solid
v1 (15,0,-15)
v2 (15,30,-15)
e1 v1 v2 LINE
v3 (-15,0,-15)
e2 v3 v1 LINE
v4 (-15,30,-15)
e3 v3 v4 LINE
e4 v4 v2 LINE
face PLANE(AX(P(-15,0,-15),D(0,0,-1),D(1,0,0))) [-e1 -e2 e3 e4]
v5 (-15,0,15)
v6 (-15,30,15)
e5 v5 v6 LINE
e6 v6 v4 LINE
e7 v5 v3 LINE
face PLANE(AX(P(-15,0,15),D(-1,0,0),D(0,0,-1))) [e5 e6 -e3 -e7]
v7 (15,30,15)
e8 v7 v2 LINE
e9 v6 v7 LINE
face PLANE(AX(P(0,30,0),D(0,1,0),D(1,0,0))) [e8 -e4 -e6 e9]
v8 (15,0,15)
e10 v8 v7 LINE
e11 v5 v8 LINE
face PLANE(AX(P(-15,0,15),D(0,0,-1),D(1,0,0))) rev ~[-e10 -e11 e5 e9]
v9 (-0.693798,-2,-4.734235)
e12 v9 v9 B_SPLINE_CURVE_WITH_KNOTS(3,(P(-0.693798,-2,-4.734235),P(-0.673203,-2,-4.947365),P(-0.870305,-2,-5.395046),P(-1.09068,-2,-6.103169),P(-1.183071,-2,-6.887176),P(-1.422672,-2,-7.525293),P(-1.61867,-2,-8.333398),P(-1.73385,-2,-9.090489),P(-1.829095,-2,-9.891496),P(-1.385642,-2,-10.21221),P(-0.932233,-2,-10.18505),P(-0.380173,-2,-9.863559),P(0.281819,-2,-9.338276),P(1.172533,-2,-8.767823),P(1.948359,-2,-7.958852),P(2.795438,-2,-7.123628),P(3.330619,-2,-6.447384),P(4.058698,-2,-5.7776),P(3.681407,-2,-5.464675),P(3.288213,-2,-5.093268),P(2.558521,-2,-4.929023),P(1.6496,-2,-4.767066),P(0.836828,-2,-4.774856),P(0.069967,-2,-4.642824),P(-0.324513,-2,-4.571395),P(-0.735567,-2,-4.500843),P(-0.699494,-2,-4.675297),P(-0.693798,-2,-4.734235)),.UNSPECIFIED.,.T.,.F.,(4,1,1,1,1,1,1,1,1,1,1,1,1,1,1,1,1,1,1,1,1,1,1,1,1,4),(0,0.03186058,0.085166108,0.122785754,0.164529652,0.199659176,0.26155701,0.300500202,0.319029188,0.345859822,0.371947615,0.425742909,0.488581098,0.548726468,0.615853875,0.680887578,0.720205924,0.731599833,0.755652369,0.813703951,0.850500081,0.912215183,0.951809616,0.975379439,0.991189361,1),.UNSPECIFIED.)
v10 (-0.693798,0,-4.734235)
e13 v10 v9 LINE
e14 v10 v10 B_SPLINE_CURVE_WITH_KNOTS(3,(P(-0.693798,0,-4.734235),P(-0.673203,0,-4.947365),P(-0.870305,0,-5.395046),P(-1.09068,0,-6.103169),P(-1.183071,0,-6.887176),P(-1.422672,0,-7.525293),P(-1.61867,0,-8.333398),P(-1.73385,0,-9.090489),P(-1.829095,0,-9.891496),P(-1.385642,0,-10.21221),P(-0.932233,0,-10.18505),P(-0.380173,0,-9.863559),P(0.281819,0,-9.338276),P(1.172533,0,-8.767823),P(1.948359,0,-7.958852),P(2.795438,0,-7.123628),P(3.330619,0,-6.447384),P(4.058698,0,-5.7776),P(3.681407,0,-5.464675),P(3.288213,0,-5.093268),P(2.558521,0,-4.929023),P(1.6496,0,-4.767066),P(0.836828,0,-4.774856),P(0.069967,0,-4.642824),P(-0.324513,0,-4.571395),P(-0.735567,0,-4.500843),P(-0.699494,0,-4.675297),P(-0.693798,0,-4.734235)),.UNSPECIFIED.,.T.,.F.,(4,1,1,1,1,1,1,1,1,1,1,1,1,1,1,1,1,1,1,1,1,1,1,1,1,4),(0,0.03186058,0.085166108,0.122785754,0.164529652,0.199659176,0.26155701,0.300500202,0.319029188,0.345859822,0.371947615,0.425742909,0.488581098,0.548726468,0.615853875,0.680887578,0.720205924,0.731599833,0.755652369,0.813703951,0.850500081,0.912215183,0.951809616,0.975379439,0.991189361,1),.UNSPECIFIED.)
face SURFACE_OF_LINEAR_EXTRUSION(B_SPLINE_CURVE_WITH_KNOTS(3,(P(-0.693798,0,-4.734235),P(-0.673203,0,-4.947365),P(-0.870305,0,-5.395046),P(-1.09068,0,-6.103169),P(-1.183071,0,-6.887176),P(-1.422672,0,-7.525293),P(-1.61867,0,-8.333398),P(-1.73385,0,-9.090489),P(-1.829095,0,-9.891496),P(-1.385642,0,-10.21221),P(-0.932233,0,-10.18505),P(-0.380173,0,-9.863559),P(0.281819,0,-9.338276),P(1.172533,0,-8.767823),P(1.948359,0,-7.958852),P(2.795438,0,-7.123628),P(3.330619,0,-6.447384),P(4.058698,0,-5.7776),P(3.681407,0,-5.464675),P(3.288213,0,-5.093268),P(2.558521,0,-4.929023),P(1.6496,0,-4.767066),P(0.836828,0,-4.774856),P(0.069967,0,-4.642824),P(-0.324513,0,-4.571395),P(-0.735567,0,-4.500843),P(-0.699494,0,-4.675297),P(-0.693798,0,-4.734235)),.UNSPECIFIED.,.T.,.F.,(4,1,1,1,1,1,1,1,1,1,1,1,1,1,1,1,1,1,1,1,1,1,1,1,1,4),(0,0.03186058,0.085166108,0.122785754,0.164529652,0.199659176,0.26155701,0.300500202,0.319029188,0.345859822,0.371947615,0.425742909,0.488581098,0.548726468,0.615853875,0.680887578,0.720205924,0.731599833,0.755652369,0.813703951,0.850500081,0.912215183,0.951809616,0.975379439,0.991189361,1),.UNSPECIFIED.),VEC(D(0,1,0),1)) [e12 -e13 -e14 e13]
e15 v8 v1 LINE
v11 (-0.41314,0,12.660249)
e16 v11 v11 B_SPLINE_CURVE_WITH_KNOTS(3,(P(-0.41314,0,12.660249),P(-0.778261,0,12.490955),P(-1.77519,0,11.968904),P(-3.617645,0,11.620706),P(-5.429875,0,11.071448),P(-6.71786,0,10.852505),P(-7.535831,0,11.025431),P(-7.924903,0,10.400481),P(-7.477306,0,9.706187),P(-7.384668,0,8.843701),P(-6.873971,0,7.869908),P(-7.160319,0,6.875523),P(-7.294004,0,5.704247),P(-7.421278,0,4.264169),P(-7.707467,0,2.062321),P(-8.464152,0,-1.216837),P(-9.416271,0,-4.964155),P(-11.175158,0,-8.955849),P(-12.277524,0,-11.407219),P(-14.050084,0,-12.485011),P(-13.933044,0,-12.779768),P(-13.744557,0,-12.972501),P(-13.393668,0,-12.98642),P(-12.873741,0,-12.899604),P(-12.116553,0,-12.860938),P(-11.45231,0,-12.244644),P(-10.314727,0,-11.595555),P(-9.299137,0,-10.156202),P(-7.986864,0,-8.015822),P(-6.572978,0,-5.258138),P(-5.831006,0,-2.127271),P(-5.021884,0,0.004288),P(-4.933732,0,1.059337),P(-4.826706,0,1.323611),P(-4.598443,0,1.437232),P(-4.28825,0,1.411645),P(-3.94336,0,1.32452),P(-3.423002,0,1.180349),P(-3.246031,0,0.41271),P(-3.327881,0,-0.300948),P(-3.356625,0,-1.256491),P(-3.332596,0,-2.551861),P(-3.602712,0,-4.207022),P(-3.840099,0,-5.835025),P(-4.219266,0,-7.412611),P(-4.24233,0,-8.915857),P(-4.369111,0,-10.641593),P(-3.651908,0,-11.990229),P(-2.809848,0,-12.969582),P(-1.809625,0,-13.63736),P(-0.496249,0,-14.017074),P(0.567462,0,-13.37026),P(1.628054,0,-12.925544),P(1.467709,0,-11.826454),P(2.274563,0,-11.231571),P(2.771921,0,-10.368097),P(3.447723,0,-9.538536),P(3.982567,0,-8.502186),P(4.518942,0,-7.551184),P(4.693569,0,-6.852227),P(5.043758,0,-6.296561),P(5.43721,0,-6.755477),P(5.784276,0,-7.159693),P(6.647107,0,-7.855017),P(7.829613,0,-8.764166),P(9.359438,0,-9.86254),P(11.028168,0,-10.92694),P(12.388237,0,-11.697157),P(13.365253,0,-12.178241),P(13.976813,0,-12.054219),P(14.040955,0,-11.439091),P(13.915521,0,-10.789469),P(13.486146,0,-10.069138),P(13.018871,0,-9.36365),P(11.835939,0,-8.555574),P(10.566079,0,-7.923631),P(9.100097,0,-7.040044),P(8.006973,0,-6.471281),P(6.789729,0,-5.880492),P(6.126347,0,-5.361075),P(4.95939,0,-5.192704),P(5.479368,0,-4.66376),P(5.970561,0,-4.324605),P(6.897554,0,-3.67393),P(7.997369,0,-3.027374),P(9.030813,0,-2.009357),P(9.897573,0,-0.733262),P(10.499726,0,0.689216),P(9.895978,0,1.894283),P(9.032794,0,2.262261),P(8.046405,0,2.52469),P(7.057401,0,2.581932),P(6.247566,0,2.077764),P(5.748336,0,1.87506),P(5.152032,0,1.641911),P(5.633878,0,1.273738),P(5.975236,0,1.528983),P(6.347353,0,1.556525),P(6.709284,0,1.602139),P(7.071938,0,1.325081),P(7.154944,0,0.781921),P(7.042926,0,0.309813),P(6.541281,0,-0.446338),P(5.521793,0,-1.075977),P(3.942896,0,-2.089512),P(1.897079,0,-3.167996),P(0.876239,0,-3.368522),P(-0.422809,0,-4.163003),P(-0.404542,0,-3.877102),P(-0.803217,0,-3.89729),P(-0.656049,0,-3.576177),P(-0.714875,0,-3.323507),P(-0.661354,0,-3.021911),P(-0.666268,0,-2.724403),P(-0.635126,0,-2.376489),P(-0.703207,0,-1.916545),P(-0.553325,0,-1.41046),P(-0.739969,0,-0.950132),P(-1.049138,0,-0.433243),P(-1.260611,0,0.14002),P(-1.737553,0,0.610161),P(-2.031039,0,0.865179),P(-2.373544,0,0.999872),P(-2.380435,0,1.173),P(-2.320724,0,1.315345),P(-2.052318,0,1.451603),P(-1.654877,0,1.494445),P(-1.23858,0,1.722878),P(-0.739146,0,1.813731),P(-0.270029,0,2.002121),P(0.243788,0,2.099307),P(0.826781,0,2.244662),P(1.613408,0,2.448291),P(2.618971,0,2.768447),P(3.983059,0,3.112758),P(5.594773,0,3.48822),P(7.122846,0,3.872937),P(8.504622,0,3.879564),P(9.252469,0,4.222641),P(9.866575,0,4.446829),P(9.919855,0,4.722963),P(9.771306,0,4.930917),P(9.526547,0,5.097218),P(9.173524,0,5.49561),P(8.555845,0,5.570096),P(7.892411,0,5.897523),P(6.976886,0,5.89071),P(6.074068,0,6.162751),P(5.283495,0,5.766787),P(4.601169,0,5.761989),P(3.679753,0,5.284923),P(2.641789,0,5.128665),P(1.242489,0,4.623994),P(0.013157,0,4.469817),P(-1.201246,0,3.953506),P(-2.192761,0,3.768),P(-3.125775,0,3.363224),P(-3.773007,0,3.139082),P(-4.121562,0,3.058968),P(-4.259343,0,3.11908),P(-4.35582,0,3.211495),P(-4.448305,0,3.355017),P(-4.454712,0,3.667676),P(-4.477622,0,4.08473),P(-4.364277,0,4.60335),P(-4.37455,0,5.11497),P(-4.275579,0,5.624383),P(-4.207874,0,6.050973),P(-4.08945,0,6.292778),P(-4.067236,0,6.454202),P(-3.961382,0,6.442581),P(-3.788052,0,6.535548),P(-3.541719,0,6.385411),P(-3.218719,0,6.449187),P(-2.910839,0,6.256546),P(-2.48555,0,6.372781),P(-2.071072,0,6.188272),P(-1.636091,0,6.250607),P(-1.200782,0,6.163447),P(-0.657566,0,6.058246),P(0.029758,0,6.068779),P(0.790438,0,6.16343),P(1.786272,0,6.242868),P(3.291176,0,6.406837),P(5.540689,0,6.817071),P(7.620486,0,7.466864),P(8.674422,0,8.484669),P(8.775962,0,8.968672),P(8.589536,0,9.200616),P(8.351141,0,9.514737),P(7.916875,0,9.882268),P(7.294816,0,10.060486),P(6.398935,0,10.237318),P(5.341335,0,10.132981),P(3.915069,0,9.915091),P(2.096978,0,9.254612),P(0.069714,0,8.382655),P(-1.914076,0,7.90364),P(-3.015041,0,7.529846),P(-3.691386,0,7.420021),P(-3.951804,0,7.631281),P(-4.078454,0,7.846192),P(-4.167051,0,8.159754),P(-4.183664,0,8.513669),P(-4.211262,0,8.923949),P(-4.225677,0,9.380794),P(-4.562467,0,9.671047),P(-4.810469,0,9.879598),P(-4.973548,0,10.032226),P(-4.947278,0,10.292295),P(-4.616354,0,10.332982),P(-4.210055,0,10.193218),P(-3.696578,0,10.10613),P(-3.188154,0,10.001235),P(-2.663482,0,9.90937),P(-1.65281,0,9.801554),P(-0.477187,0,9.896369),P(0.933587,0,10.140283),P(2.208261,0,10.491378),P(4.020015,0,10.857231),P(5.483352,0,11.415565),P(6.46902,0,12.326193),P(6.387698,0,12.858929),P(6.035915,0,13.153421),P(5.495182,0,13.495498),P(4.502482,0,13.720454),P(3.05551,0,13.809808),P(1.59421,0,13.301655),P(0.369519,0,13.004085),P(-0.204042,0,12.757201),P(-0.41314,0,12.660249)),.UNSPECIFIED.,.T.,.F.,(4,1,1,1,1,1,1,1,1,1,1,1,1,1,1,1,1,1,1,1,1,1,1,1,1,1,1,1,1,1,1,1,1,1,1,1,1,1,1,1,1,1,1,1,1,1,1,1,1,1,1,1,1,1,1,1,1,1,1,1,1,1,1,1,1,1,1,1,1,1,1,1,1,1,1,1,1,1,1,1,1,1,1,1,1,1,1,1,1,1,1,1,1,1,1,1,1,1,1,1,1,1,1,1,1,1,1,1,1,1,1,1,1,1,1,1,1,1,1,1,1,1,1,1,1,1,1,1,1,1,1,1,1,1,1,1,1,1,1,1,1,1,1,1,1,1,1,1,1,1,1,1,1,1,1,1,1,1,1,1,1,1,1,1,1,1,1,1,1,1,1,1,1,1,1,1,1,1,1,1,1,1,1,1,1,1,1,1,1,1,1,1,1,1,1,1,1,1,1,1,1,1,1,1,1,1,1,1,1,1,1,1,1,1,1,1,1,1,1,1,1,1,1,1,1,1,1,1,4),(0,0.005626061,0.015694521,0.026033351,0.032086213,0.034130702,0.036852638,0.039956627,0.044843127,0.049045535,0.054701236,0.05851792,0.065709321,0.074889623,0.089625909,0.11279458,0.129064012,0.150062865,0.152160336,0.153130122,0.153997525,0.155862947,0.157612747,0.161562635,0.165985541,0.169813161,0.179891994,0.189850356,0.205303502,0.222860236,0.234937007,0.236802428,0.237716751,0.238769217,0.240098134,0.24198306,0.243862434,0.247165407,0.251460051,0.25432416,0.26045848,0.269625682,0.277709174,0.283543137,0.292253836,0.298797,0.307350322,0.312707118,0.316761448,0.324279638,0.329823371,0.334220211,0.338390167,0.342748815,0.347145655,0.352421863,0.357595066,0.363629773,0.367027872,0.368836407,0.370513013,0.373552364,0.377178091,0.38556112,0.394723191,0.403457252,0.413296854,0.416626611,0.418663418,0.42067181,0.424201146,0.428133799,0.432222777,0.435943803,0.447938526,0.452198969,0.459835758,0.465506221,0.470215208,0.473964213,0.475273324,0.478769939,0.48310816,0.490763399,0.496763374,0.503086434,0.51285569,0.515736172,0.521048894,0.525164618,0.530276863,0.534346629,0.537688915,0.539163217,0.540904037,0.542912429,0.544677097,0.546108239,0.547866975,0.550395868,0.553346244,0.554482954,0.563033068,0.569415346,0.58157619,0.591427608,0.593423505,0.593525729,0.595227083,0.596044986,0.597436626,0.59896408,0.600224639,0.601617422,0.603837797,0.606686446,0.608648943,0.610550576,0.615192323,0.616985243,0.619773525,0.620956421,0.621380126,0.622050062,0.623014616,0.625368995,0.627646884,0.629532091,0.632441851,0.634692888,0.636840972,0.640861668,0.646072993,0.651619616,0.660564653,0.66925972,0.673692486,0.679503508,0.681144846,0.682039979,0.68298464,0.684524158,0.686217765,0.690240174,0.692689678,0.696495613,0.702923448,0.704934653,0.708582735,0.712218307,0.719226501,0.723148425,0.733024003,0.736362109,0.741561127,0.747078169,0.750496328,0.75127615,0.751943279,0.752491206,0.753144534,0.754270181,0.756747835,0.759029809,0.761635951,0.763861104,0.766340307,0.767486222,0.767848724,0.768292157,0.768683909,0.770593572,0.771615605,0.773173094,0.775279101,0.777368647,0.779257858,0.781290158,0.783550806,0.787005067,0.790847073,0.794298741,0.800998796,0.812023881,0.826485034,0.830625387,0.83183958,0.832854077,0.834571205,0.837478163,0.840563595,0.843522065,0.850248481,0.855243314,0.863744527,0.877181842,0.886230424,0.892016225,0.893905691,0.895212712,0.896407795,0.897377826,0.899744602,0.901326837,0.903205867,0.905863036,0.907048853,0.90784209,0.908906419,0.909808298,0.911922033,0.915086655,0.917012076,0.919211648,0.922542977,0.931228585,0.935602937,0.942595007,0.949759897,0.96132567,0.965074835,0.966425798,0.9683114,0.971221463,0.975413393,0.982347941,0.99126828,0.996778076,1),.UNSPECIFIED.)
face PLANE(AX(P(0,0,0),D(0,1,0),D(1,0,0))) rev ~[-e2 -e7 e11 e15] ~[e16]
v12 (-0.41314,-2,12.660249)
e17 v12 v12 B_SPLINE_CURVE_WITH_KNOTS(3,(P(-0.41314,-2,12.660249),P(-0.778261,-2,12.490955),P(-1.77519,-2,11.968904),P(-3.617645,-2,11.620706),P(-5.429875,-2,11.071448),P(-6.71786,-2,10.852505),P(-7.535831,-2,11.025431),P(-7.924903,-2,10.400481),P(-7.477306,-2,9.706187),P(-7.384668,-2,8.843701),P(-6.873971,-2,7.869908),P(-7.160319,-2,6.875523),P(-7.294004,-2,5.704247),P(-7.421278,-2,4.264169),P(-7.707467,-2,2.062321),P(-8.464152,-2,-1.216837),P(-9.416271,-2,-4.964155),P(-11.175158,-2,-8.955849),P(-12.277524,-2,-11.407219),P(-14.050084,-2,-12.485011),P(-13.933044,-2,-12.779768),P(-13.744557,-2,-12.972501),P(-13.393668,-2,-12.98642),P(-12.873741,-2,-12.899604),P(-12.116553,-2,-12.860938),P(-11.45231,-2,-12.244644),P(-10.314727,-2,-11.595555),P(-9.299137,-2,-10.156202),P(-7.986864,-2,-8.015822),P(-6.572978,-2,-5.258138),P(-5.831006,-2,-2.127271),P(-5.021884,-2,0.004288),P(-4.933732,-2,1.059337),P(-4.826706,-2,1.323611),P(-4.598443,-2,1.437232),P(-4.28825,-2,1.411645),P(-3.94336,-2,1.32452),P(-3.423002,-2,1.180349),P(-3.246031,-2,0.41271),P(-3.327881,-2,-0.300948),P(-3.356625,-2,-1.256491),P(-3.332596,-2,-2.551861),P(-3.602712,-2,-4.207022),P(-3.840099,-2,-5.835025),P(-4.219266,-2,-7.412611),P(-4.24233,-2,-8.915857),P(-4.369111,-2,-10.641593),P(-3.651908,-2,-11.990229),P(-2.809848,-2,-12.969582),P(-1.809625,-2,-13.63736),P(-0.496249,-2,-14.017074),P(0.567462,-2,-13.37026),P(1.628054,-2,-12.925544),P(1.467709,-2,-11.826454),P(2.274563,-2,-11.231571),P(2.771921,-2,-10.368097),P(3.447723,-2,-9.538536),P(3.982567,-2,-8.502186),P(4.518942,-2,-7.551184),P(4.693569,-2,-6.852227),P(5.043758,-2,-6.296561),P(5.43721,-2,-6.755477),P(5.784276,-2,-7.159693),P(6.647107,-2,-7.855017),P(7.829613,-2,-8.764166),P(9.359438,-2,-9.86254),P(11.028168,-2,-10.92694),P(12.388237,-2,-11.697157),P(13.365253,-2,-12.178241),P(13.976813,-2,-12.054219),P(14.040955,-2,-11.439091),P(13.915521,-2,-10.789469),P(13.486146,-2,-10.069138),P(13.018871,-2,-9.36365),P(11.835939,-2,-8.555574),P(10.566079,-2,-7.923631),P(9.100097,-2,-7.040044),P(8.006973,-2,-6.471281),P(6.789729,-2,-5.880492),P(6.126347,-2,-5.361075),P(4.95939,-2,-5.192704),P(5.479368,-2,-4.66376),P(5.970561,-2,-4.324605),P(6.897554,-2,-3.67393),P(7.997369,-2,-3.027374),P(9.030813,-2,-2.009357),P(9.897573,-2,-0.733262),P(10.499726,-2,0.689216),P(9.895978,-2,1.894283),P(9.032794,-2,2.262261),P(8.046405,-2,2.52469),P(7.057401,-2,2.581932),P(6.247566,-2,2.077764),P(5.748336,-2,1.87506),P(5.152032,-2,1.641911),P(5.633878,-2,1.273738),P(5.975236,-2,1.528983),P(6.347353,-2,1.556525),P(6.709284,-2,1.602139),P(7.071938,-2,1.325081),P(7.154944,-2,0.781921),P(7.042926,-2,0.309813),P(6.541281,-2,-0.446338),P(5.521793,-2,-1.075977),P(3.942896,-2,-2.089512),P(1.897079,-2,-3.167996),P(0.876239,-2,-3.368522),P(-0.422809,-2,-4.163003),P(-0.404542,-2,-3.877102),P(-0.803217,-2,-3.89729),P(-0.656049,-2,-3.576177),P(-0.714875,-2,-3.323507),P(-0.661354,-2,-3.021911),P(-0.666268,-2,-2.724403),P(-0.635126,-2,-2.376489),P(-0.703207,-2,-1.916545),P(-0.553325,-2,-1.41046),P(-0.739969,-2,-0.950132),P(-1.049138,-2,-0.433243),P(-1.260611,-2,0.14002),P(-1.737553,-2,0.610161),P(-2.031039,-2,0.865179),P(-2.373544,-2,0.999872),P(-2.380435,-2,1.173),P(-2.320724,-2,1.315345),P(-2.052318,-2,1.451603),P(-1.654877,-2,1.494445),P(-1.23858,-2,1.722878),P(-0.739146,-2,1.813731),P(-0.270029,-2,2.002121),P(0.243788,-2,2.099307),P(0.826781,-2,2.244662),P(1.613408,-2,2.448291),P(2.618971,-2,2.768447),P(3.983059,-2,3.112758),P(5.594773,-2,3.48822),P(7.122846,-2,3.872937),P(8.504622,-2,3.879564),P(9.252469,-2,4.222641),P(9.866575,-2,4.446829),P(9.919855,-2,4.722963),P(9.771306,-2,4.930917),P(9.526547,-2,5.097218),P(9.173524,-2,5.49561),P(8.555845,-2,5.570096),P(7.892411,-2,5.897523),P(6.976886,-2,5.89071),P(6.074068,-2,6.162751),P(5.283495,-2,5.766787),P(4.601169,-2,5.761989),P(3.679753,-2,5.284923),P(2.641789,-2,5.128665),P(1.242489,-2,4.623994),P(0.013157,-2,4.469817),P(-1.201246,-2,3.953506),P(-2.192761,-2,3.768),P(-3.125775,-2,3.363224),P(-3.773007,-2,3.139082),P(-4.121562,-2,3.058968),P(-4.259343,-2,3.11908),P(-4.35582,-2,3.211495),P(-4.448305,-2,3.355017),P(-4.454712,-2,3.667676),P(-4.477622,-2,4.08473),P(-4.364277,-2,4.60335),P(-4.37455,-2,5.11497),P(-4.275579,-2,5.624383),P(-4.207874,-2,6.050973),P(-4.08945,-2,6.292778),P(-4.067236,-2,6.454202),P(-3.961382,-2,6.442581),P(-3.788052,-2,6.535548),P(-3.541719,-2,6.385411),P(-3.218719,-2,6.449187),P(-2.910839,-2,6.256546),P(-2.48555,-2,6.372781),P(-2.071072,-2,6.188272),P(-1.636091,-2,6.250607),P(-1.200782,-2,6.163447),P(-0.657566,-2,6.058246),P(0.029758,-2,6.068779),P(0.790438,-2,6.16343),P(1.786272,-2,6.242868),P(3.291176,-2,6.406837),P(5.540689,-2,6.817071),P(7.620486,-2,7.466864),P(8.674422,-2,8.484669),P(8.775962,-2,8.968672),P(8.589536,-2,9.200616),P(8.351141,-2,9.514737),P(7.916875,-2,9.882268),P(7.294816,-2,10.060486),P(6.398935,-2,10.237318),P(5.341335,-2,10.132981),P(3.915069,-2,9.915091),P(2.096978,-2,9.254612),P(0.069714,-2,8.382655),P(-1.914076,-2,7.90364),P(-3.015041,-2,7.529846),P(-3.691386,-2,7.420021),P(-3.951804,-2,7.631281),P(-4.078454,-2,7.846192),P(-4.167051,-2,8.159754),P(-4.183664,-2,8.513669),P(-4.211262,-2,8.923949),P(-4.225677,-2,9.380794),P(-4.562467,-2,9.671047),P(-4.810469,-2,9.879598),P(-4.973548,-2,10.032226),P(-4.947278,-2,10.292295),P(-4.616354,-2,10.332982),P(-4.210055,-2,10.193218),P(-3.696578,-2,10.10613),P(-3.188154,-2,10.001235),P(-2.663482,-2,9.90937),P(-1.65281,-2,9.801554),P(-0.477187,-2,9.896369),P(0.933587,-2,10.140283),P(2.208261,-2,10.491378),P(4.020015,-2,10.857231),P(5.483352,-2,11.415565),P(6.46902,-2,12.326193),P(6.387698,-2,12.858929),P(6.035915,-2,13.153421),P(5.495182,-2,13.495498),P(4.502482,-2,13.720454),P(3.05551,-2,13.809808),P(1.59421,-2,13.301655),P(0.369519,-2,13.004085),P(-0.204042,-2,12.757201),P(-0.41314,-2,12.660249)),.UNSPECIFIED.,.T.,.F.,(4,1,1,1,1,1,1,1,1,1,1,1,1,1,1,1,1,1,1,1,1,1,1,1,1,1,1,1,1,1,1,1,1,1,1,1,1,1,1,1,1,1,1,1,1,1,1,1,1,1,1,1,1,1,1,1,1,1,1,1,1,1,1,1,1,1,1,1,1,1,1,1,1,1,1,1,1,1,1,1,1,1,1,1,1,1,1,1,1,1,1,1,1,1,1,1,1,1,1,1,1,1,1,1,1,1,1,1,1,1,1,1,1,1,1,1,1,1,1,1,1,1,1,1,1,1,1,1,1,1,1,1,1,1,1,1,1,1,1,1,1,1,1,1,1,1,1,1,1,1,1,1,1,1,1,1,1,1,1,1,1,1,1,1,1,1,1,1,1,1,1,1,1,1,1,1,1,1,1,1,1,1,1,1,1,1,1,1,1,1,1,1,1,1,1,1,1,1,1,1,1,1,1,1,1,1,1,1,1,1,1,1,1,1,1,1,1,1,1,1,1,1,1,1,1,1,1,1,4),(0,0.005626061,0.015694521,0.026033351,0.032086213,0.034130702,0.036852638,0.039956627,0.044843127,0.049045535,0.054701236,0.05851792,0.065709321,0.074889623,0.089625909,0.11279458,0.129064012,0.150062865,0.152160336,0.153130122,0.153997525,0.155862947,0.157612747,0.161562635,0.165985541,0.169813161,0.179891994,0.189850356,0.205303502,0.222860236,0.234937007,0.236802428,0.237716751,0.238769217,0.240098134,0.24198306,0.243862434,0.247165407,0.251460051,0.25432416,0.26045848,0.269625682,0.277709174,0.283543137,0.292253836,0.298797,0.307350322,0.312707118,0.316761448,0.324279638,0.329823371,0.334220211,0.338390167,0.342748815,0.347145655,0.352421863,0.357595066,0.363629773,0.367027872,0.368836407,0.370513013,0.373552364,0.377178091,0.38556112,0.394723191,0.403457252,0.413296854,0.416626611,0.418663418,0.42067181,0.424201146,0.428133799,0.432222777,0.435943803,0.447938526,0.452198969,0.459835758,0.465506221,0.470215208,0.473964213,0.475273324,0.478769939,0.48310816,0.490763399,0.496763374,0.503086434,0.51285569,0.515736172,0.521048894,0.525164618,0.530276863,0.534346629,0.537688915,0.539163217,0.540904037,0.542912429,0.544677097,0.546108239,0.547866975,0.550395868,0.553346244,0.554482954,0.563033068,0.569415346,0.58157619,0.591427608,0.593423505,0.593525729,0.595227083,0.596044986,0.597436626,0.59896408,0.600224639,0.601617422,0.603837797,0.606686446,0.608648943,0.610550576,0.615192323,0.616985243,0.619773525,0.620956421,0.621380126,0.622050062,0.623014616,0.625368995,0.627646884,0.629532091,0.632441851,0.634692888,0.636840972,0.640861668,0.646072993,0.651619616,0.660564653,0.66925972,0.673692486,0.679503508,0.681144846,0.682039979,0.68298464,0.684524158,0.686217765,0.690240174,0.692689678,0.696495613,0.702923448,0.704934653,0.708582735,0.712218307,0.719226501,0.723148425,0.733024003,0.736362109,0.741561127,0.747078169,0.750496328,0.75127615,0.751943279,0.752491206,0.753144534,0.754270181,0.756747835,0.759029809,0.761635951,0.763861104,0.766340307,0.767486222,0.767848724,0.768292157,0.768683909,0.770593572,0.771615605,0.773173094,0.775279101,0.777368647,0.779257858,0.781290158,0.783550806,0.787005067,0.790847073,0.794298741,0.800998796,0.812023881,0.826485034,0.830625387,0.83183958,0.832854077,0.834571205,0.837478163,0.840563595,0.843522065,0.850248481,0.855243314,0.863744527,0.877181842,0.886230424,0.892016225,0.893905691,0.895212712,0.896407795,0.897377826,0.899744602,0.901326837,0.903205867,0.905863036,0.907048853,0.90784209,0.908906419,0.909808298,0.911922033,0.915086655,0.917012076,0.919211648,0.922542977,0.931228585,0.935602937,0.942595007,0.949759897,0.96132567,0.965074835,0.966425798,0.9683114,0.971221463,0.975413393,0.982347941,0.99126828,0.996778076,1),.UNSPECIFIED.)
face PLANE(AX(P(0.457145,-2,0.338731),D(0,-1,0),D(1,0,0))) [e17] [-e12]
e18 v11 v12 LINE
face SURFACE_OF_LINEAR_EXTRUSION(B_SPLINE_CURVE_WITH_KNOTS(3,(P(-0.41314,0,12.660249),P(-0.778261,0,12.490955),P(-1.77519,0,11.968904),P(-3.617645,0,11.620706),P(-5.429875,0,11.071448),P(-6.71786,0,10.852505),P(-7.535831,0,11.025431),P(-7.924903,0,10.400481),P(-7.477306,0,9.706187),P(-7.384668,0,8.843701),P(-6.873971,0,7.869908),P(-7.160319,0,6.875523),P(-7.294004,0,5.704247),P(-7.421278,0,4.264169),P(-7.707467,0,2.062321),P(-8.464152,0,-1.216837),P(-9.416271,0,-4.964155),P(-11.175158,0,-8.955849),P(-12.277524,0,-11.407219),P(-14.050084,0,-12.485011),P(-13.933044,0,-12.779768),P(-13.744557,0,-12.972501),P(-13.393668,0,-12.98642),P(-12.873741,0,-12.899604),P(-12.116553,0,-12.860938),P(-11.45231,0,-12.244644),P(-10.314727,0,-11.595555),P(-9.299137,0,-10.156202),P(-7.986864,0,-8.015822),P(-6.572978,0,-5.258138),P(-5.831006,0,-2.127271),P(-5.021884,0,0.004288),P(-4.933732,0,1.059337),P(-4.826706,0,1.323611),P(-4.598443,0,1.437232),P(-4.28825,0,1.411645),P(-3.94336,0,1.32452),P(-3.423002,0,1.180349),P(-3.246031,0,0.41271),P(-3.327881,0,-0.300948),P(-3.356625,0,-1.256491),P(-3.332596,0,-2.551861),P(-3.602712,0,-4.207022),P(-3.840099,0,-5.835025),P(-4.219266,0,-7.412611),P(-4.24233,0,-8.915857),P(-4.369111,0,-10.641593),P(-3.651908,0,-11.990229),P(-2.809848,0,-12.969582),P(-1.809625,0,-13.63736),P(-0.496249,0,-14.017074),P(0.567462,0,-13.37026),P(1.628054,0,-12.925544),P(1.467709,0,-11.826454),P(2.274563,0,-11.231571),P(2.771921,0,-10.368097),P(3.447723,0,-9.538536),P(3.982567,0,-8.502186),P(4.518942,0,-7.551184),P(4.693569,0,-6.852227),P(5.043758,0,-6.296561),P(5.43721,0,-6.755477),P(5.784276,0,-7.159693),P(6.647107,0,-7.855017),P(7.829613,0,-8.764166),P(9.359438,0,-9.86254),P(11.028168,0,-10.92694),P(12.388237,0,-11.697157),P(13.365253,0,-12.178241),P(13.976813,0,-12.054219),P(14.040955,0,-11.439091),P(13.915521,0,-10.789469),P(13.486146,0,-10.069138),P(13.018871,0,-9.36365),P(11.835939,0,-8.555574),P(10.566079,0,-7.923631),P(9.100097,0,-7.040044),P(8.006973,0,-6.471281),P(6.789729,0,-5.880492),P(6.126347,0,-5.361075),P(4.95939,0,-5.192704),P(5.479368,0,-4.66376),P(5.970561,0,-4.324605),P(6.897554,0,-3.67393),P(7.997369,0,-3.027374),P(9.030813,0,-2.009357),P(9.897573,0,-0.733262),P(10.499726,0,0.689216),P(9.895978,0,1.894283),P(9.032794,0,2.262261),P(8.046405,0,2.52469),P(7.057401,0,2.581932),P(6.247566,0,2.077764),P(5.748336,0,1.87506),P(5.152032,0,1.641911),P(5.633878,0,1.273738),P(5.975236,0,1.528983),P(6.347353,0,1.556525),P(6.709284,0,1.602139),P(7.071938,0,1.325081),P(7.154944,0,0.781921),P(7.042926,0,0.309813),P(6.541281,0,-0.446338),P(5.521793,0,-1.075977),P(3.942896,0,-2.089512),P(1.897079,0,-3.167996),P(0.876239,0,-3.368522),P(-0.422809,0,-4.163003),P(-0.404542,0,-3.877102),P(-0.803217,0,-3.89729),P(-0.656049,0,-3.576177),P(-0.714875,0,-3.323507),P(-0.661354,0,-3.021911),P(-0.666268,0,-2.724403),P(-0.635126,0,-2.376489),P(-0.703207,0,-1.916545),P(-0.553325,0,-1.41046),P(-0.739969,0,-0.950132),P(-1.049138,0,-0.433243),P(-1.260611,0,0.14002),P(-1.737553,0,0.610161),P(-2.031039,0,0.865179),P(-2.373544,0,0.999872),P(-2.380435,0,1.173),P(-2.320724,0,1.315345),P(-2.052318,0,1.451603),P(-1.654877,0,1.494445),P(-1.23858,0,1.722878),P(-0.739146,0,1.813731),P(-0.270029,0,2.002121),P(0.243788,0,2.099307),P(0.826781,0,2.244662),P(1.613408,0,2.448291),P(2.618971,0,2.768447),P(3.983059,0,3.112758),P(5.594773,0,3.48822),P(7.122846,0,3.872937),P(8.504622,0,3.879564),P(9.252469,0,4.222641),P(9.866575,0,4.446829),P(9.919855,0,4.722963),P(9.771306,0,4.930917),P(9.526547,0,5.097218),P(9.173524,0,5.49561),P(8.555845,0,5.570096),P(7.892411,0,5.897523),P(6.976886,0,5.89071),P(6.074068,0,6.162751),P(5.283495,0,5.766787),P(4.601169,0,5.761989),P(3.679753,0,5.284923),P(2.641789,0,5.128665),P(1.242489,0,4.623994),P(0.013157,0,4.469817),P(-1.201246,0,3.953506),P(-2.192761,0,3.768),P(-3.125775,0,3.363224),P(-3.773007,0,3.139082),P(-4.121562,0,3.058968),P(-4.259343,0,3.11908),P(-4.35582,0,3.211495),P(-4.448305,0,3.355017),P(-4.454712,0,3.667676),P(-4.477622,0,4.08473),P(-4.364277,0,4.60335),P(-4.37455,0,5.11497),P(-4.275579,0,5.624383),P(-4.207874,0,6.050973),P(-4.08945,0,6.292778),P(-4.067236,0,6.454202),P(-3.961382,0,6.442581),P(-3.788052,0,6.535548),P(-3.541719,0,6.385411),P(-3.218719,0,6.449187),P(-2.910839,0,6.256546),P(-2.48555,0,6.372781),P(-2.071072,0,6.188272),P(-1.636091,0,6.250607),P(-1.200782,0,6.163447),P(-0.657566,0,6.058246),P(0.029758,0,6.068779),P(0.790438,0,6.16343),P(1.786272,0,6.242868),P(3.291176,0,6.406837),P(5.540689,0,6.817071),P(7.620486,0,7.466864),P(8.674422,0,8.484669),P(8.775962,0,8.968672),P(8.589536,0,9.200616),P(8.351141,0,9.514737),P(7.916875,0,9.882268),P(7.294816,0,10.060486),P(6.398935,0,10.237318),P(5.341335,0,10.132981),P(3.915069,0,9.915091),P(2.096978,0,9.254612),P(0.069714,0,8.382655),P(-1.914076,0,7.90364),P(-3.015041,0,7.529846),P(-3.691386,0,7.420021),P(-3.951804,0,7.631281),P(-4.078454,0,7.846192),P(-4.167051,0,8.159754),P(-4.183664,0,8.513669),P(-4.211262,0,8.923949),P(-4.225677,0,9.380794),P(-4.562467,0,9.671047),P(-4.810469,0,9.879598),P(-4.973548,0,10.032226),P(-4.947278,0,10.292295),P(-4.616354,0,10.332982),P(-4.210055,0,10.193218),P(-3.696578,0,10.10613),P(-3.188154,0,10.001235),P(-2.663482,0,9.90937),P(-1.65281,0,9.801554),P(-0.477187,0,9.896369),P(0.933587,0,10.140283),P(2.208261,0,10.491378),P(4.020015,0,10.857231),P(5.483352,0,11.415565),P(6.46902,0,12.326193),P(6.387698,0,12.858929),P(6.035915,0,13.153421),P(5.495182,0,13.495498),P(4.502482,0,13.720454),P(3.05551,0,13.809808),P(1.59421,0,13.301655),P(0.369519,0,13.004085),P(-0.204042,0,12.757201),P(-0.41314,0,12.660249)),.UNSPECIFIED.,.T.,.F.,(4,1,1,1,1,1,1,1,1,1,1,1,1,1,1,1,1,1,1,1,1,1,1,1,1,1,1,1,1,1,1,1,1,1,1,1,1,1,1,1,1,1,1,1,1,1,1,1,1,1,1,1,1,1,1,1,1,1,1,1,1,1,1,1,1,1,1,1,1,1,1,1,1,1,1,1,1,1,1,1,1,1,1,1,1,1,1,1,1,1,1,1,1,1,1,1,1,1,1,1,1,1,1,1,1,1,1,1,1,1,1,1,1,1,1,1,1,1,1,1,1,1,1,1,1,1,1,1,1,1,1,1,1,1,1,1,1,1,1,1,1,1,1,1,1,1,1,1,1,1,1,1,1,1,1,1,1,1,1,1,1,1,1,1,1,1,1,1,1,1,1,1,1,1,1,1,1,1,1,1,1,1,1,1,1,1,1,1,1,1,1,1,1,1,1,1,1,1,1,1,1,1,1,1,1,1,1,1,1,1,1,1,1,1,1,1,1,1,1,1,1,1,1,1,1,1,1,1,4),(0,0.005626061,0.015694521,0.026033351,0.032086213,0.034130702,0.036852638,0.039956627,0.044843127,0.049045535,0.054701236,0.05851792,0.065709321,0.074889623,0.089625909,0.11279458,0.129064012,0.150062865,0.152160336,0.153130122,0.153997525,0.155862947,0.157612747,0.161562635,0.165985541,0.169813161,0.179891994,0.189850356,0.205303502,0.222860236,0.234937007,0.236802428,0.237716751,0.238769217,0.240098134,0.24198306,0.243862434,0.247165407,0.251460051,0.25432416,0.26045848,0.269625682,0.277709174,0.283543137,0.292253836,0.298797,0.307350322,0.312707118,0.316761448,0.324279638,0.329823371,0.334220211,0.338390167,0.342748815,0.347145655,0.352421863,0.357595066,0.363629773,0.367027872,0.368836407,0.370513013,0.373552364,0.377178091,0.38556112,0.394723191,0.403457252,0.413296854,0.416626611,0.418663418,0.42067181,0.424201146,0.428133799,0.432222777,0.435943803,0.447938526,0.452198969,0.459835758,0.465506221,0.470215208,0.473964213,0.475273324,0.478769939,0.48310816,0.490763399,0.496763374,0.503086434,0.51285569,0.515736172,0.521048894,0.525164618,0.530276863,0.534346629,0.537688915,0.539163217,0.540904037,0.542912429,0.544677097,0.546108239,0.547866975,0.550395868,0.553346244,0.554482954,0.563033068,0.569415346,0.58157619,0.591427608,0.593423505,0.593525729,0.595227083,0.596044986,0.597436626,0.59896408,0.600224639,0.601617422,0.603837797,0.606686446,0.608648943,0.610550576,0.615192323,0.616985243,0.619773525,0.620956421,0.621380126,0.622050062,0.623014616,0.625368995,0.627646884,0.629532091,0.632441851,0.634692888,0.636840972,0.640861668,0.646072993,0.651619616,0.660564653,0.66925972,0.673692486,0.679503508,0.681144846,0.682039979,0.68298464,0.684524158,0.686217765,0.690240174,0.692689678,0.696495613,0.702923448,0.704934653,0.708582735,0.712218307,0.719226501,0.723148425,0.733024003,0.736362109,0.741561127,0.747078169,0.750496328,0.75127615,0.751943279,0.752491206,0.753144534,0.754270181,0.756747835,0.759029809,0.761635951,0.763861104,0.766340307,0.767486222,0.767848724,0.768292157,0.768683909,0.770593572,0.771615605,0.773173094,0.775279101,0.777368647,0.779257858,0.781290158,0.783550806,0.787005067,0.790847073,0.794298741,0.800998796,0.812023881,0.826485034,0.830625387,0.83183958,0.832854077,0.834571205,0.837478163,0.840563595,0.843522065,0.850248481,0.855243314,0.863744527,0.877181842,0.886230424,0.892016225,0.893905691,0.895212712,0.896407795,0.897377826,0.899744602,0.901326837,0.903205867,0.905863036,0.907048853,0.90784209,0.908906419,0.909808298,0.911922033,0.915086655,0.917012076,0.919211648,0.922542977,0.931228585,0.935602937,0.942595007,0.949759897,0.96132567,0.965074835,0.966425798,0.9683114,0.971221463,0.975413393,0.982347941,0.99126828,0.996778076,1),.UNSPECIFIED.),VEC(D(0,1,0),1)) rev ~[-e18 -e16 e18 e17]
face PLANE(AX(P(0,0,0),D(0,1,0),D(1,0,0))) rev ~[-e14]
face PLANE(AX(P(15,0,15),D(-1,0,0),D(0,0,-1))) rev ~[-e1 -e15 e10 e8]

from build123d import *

# Parameters (mm, degrees)
SKETCH_1_W      = 30
SKETCH_1_H      = 30
EXTRUDE_1_DEPTH = 30
EXTRUDE_2_DEPTH = 2


with BuildPart() as part:
    # 草图1 → 凸台-拉伸1 (new body)
    with BuildSketch(Plane(origin=(0, 0, 0), x_dir=(1, 0, 0), z_dir=(0, 1, 0))):
        Rectangle(SKETCH_1_W, SKETCH_1_H)
    extrude(amount=EXTRUDE_1_DEPTH)

    # 草图2 → 凸台-拉伸2 (add)
    with BuildSketch(Plane.XZ):
        with BuildLine():
            add(Edge.make_bspline(
                [(-0.413139507, 12.660249476), (-0.778261096, 12.490955268), (-1.775190195, 11.968904426), (-3.617645227, 11.620705906), (-5.429874837, 11.07144813), (-6.717860152, 10.852505359), (-7.535830981, 11.0254314), (-7.924903013, 10.400481393), (-7.477306177, 9.706186914), (-7.384668414, 8.843700973), (-6.873971011, 7.869907633), (-7.160319356, 6.875523209), (-7.294004446, 5.704246833), (-7.421277648, 4.264169233), (-7.707467224, 2.062321345), (-8.464152297, -1.216837427), (-9.416270532, -4.964154879), (-11.175158435, -8.955848582), (-12.277523791, -11.407219371), (-14.050084255, -12.485011226), (-13.933043988, -12.779768339), (-13.744557421, -12.97250106), (-13.393667558, -12.986420113), (-12.873741383, -12.899604139), (-12.116553141, -12.860937947), (-11.452310478, -12.244644168), (-10.31472738, -11.595554765), (-9.299136585, -10.156201929), (-7.986863801, -8.015821769), (-6.57297794, -5.258138303), (-5.831005868, -2.127270842), (-5.021884261, 0.004287598), (-4.933731925, 1.059336537), (-4.826706465, 1.323611228), (-4.598443234, 1.437232013), (-4.288250478, 1.411645284), (-3.943360214, 1.324520016), (-3.423001508, 1.180348592), (-3.246030566, 0.412709608), (-3.327881363, -0.300948231), (-3.356625482, -1.256490572), (-3.332595796, -2.551860981), (-3.602712128, -4.207022278), (-3.840098598, -5.835024868), (-4.219266493, -7.412610964), (-4.242330279, -8.915857407), (-4.369111397, -10.641593174), (-3.65190849, -11.990229453), (-2.809848226, -12.969581743), (-1.809625327, -13.637359623), (-0.496248558, -14.017074175), (0.567461897, -13.370260365), (1.628053828, -12.925543641), (1.467709085, -11.8264544), (2.274562545, -11.231570985), (2.771920695, -10.368096577), (3.447723159, -9.538536039), (3.982566975, -8.502186189), (4.518942407, -7.551184452), (4.693569353, -6.852226616), (5.043758211, -6.296560663), (5.437210276, -6.755476757), (5.784275685, -7.159692505), (6.647106622, -7.855017156), (7.829613196, -8.76416631), (9.359437859, -9.862540225), (11.028167704, -10.92694032), (12.388237014, -11.697156931), (13.365252981, -12.178241135), (13.976813354, -12.054218893), (14.040955189, -11.439090613), (13.915520663, -10.789468662), (13.486146081, -10.069138366), (13.018870968, -9.363649713), (11.835939267, -8.555574207), (10.566078631, -7.923630982), (9.100096794, -7.040043518), (8.006972881, -6.471280922), (6.789728892, -5.880491964), (6.126347212, -5.361075412), (4.959389532, -5.192703557), (5.479367745, -4.663759847), (5.970560699, -4.32460495), (6.897554288, -3.673930211), (7.997369225, -3.027373773), (9.030812636, -2.00935725), (9.897572996, -0.733261854), (10.499725939, 0.689215867), (9.895977969, 1.894282537), (9.032794377, 2.262260531), (8.046405185, 2.524690213), (7.057401257, 2.581932255), (6.247565966, 2.077763608), (5.74833638, 1.875059682), (5.152031714, 1.641911431), (5.633877884, 1.273737748), (5.975235716, 1.52898326), (6.34735299, 1.556525328), (6.709283818, 1.602138733), (7.071938285, 1.325080522), (7.154943666, 0.781921106), (7.042925909, 0.30981302), (6.541281332, -0.446338426), (5.521793312, -1.075977418), (3.942896108, -2.089511767), (1.89707893, -3.167996126), (0.876238832, -3.368522062), (-0.422809067, -4.163002543), (-0.404542403, -3.87710227), (-0.803217489, -3.897289846), (-0.656049428, -3.576177333), (-0.714875183, -3.323507322), (-0.661354465, -3.021910676), (-0.666268065, -2.724403129), (-0.635125688, -2.376489367), (-0.703207239, -1.916544564), (-0.553324851, -1.410460204), (-0.739968821, -0.95013231), (-1.049137571, -0.433243486), (-1.260611128, 0.140020331), (-1.737553109, 0.610160501), (-2.031039017, 0.865178836), (-2.373543564, 0.999871969), (-2.380434771, 1.173000051), (-2.320724314, 1.31534508), (-2.052318002, 1.451602543), (-1.654877459, 1.494445113), (-1.238579515, 1.722878478), (-0.739146377, 1.813731033), (-0.270028582, 2.002120631), (0.243788374, 2.099306526), (0.826781083, 2.24466196), (1.613408038, 2.448291354), (2.618971353, 2.768447231), (3.983058836, 3.11275807), (5.59477303, 3.488219753), (7.122845708, 3.872937214), (8.504621829, 3.879564133), (9.252468882, 4.222641343), (9.866574989, 4.446828975), (9.919854908, 4.72296331), (9.771305632, 4.930917443), (9.52654699, 5.097217777), (9.173524259, 5.495610484), (8.555844613, 5.570095588), (7.892411431, 5.897522895), (6.976885941, 5.890709642), (6.074067802, 6.16275076), (5.283495217, 5.766787087), (4.601169154, 5.761989446), (3.679753202, 5.284922821), (2.641788543, 5.12866473), (1.242488794, 4.623993771), (0.013157214, 4.469816859), (-1.20124589, 3.953506124), (-2.192760949, 3.768000087), (-3.125774741, 3.36322373), (-3.773007457, 3.139081911), (-4.121562022, 3.058967527), (-4.259342576, 3.119080471), (-4.355820286, 3.211495205), (-4.448304693, 3.355017291), (-4.45471175, 3.667676474), (-4.477622379, 4.084730178), (-4.364277115, 4.603350313), (-4.374550283, 5.114969803), (-4.27557901, 5.624383048), (-4.207873507, 6.050972601), (-4.089449768, 6.292778489), (-4.067235965, 6.454201992), (-3.961381674, 6.442580572), (-3.788052058, 6.535547523), (-3.541718758, 6.385410503), (-3.218718969, 6.449186679), (-2.910839141, 6.256546464), (-2.485550157, 6.372781007), (-2.071071829, 6.188271877), (-1.636090735, 6.250606578), (-1.200782155, 6.163446555), (-0.657565868, 6.058245847), (0.029757843, 6.068779058), (0.790437633, 6.1634305), (1.786272463, 6.242867945), (3.291175791, 6.406836637), (5.540688758, 6.817070819), (7.620485762, 7.466863799), (8.674422461, 8.484669317), (8.775962223, 8.968671554), (8.589535538, 9.200615937), (8.351140841, 9.514736892), (7.916875238, 9.882267546), (7.294816123, 10.060486364), (6.398934994, 10.237318084), (5.341335365, 10.132980834), (3.915068945, 9.915091235), (2.096978192, 9.254612397), (0.06971382, 8.382654832), (-1.914076049, 7.903639645), (-3.015040534, 7.529846337), (-3.691385789, 7.420020544), (-3.951804349, 7.631280816), (-4.078454067, 7.846192489), (-4.167051414, 8.159754439), (-4.183663808, 8.513669074), (-4.21126222, 8.92394897), (-4.225677442, 9.380793519), (-4.562467322, 9.671047371), (-4.810469436, 9.879598003), (-4.973547655, 10.032225982), (-4.947277714, 10.292295204), (-4.61635402, 10.332982338), (-4.210054612, 10.193217911), (-3.69657785, 10.106129644), (-3.188153602, 10.0012354), (-2.663481676, 9.909369761), (-1.652809502, 9.801554359), (-0.477186979, 9.896369339), (0.933586865, 10.140283458), (2.208260982, 10.491377912), (4.02001539, 10.857230536), (5.483352038, 11.41556514), (6.469020229, 12.326193463), (6.387698048, 12.858929054), (6.035914881, 13.15342118), (5.495181719, 13.495497514), (4.502482332, 13.720454343), (3.055509861, 13.809807787), (1.594209656, 13.301654653), (0.36951905, 13.004085061), (-0.2040422, 12.75720064), (-0.413139507, 12.660249476)],
                knots=[0, 0, 0, 0, 0.005626061, 0.015694521, 0.026033351, 0.032086213, 0.034130702, 0.036852638, 0.039956627, 0.044843127, 0.049045535, 0.054701236, 0.05851792, 0.065709321, 0.074889623, 0.089625909, 0.11279458, 0.129064012, 0.150062865, 0.152160336, 0.153130122, 0.153997525, 0.155862947, 0.157612747, 0.161562635, 0.165985541, 0.169813161, 0.179891994, 0.189850356, 0.205303502, 0.222860236, 0.234937007, 0.236802428, 0.237716751, 0.238769217, 0.240098134, 0.24198306, 0.243862434, 0.247165407, 0.251460051, 0.25432416, 0.26045848, 0.269625682, 0.277709174, 0.283543137, 0.292253836, 0.298797, 0.307350322, 0.312707118, 0.316761448, 0.324279638, 0.329823371, 0.334220211, 0.338390167, 0.342748815, 0.347145655, 0.352421863, 0.357595066, 0.363629773, 0.367027872, 0.368836407, 0.370513013, 0.373552364, 0.377178091, 0.38556112, 0.394723191, 0.403457252, 0.413296854, 0.416626611, 0.418663418, 0.42067181, 0.424201146, 0.428133799, 0.432222777, 0.435943803, 0.447938526, 0.452198969, 0.459835758, 0.465506221, 0.470215208, 0.473964213, 0.475273324, 0.478769939, 0.48310816, 0.490763399, 0.496763374, 0.503086434, 0.51285569, 0.515736172, 0.521048894, 0.525164618, 0.530276863, 0.534346629, 0.537688915, 0.539163217, 0.540904037, 0.542912429, 0.544677097, 0.546108239, 0.547866975, 0.550395868, 0.553346244, 0.554482954, 0.563033068, 0.569415346, 0.58157619, 0.591427608, 0.593423505, 0.593525729, 0.595227083, 0.596044986, 0.597436626, 0.59896408, 0.600224639, 0.601617422, 0.603837797, 0.606686446, 0.608648943, 0.610550576, 0.615192323, 0.616985243, 0.619773525, 0.620956421, 0.621380126, 0.622050062, 0.623014616, 0.625368995, 0.627646884, 0.629532091, 0.632441851, 0.634692888, 0.636840972, 0.640861668, 0.646072993, 0.651619616, 0.660564653, 0.66925972, 0.673692486, 0.679503508, 0.681144846, 0.682039979, 0.68298464, 0.684524158, 0.686217765, 0.690240174, 0.692689678, 0.696495613, 0.702923448, 0.704934653, 0.708582735, 0.712218307, 0.719226501, 0.723148425, 0.733024003, 0.736362109, 0.741561127, 0.747078169, 0.750496328, 0.75127615, 0.751943279, 0.752491206, 0.753144534, 0.754270181, 0.756747835, 0.759029809, 0.761635951, 0.763861104, 0.766340307, 0.767486222, 0.767848724, 0.768292157, 0.768683909, 0.770593572, 0.771615605, 0.773173094, 0.775279101, 0.777368647, 0.779257858, 0.781290158, 0.783550806, 0.787005067, 0.790847073, 0.794298741, 0.800998796, 0.812023881, 0.826485034, 0.830625387, 0.83183958, 0.832854077, 0.834571205, 0.837478163, 0.840563595, 0.843522065, 0.850248481, 0.855243314, 0.863744527, 0.877181842, 0.886230424, 0.892016225, 0.893905691, 0.895212712, 0.896407795, 0.897377826, 0.899744602, 0.901326837, 0.903205867, 0.905863036, 0.907048853, 0.90784209, 0.908906419, 0.909808298, 0.911922033, 0.915086655, 0.917012076, 0.919211648, 0.922542977, 0.931228585, 0.935602937, 0.942595007, 0.949759897, 0.96132567, 0.965074835, 0.966425798, 0.9683114, 0.971221463, 0.975413393, 0.982347941, 0.99126828, 0.996778076, 1, 1, 1, 1], degree=3))
        make_face()
        with BuildLine():
            add(Edge.make_bspline(
                [(-0.693798197, -4.734234947), (-0.673202966, -4.947364787), (-0.8703055, -5.395046404), (-1.090680116, -6.103168948), (-1.183071409, -6.887176425), (-1.422671576, -7.525292604), (-1.618670167, -8.333397597), (-1.733850353, -9.090489463), (-1.829095006, -9.891496048), (-1.385641931, -10.212209656), (-0.932232823, -10.185050191), (-0.380173422, -9.863558948), (0.281819118, -9.33827611), (1.172532967, -8.767822823), (1.948358517, -7.958852248), (2.795438073, -7.123627641), (3.330619491, -6.447383539), (4.058698458, -5.777599695), (3.681407256, -5.464675377), (3.288213323, -5.093267728), (2.558521405, -4.929023165), (1.64960004, -4.767066453), (0.836827753, -4.774856286), (0.069966533, -4.642824403), (-0.324513279, -4.5713946), (-0.735566967, -4.500842728), (-0.699493546, -4.675296591), (-0.693798197, -4.734234947)],
                knots=[0, 0, 0, 0, 0.03186058, 0.085166108, 0.122785754, 0.164529652, 0.199659176, 0.26155701, 0.300500202, 0.319029188, 0.345859822, 0.371947615, 0.425742909, 0.488581098, 0.548726468, 0.615853875, 0.680887578, 0.720205924, 0.731599833, 0.755652369, 0.813703951, 0.850500081, 0.912215183, 0.951809616, 0.975379439, 0.991189361, 1, 1, 1, 1], degree=3))
        make_face(mode=Mode.SUBTRACT)
    extrude(amount=EXTRUDE_2_DEPTH)


solid = part.part
